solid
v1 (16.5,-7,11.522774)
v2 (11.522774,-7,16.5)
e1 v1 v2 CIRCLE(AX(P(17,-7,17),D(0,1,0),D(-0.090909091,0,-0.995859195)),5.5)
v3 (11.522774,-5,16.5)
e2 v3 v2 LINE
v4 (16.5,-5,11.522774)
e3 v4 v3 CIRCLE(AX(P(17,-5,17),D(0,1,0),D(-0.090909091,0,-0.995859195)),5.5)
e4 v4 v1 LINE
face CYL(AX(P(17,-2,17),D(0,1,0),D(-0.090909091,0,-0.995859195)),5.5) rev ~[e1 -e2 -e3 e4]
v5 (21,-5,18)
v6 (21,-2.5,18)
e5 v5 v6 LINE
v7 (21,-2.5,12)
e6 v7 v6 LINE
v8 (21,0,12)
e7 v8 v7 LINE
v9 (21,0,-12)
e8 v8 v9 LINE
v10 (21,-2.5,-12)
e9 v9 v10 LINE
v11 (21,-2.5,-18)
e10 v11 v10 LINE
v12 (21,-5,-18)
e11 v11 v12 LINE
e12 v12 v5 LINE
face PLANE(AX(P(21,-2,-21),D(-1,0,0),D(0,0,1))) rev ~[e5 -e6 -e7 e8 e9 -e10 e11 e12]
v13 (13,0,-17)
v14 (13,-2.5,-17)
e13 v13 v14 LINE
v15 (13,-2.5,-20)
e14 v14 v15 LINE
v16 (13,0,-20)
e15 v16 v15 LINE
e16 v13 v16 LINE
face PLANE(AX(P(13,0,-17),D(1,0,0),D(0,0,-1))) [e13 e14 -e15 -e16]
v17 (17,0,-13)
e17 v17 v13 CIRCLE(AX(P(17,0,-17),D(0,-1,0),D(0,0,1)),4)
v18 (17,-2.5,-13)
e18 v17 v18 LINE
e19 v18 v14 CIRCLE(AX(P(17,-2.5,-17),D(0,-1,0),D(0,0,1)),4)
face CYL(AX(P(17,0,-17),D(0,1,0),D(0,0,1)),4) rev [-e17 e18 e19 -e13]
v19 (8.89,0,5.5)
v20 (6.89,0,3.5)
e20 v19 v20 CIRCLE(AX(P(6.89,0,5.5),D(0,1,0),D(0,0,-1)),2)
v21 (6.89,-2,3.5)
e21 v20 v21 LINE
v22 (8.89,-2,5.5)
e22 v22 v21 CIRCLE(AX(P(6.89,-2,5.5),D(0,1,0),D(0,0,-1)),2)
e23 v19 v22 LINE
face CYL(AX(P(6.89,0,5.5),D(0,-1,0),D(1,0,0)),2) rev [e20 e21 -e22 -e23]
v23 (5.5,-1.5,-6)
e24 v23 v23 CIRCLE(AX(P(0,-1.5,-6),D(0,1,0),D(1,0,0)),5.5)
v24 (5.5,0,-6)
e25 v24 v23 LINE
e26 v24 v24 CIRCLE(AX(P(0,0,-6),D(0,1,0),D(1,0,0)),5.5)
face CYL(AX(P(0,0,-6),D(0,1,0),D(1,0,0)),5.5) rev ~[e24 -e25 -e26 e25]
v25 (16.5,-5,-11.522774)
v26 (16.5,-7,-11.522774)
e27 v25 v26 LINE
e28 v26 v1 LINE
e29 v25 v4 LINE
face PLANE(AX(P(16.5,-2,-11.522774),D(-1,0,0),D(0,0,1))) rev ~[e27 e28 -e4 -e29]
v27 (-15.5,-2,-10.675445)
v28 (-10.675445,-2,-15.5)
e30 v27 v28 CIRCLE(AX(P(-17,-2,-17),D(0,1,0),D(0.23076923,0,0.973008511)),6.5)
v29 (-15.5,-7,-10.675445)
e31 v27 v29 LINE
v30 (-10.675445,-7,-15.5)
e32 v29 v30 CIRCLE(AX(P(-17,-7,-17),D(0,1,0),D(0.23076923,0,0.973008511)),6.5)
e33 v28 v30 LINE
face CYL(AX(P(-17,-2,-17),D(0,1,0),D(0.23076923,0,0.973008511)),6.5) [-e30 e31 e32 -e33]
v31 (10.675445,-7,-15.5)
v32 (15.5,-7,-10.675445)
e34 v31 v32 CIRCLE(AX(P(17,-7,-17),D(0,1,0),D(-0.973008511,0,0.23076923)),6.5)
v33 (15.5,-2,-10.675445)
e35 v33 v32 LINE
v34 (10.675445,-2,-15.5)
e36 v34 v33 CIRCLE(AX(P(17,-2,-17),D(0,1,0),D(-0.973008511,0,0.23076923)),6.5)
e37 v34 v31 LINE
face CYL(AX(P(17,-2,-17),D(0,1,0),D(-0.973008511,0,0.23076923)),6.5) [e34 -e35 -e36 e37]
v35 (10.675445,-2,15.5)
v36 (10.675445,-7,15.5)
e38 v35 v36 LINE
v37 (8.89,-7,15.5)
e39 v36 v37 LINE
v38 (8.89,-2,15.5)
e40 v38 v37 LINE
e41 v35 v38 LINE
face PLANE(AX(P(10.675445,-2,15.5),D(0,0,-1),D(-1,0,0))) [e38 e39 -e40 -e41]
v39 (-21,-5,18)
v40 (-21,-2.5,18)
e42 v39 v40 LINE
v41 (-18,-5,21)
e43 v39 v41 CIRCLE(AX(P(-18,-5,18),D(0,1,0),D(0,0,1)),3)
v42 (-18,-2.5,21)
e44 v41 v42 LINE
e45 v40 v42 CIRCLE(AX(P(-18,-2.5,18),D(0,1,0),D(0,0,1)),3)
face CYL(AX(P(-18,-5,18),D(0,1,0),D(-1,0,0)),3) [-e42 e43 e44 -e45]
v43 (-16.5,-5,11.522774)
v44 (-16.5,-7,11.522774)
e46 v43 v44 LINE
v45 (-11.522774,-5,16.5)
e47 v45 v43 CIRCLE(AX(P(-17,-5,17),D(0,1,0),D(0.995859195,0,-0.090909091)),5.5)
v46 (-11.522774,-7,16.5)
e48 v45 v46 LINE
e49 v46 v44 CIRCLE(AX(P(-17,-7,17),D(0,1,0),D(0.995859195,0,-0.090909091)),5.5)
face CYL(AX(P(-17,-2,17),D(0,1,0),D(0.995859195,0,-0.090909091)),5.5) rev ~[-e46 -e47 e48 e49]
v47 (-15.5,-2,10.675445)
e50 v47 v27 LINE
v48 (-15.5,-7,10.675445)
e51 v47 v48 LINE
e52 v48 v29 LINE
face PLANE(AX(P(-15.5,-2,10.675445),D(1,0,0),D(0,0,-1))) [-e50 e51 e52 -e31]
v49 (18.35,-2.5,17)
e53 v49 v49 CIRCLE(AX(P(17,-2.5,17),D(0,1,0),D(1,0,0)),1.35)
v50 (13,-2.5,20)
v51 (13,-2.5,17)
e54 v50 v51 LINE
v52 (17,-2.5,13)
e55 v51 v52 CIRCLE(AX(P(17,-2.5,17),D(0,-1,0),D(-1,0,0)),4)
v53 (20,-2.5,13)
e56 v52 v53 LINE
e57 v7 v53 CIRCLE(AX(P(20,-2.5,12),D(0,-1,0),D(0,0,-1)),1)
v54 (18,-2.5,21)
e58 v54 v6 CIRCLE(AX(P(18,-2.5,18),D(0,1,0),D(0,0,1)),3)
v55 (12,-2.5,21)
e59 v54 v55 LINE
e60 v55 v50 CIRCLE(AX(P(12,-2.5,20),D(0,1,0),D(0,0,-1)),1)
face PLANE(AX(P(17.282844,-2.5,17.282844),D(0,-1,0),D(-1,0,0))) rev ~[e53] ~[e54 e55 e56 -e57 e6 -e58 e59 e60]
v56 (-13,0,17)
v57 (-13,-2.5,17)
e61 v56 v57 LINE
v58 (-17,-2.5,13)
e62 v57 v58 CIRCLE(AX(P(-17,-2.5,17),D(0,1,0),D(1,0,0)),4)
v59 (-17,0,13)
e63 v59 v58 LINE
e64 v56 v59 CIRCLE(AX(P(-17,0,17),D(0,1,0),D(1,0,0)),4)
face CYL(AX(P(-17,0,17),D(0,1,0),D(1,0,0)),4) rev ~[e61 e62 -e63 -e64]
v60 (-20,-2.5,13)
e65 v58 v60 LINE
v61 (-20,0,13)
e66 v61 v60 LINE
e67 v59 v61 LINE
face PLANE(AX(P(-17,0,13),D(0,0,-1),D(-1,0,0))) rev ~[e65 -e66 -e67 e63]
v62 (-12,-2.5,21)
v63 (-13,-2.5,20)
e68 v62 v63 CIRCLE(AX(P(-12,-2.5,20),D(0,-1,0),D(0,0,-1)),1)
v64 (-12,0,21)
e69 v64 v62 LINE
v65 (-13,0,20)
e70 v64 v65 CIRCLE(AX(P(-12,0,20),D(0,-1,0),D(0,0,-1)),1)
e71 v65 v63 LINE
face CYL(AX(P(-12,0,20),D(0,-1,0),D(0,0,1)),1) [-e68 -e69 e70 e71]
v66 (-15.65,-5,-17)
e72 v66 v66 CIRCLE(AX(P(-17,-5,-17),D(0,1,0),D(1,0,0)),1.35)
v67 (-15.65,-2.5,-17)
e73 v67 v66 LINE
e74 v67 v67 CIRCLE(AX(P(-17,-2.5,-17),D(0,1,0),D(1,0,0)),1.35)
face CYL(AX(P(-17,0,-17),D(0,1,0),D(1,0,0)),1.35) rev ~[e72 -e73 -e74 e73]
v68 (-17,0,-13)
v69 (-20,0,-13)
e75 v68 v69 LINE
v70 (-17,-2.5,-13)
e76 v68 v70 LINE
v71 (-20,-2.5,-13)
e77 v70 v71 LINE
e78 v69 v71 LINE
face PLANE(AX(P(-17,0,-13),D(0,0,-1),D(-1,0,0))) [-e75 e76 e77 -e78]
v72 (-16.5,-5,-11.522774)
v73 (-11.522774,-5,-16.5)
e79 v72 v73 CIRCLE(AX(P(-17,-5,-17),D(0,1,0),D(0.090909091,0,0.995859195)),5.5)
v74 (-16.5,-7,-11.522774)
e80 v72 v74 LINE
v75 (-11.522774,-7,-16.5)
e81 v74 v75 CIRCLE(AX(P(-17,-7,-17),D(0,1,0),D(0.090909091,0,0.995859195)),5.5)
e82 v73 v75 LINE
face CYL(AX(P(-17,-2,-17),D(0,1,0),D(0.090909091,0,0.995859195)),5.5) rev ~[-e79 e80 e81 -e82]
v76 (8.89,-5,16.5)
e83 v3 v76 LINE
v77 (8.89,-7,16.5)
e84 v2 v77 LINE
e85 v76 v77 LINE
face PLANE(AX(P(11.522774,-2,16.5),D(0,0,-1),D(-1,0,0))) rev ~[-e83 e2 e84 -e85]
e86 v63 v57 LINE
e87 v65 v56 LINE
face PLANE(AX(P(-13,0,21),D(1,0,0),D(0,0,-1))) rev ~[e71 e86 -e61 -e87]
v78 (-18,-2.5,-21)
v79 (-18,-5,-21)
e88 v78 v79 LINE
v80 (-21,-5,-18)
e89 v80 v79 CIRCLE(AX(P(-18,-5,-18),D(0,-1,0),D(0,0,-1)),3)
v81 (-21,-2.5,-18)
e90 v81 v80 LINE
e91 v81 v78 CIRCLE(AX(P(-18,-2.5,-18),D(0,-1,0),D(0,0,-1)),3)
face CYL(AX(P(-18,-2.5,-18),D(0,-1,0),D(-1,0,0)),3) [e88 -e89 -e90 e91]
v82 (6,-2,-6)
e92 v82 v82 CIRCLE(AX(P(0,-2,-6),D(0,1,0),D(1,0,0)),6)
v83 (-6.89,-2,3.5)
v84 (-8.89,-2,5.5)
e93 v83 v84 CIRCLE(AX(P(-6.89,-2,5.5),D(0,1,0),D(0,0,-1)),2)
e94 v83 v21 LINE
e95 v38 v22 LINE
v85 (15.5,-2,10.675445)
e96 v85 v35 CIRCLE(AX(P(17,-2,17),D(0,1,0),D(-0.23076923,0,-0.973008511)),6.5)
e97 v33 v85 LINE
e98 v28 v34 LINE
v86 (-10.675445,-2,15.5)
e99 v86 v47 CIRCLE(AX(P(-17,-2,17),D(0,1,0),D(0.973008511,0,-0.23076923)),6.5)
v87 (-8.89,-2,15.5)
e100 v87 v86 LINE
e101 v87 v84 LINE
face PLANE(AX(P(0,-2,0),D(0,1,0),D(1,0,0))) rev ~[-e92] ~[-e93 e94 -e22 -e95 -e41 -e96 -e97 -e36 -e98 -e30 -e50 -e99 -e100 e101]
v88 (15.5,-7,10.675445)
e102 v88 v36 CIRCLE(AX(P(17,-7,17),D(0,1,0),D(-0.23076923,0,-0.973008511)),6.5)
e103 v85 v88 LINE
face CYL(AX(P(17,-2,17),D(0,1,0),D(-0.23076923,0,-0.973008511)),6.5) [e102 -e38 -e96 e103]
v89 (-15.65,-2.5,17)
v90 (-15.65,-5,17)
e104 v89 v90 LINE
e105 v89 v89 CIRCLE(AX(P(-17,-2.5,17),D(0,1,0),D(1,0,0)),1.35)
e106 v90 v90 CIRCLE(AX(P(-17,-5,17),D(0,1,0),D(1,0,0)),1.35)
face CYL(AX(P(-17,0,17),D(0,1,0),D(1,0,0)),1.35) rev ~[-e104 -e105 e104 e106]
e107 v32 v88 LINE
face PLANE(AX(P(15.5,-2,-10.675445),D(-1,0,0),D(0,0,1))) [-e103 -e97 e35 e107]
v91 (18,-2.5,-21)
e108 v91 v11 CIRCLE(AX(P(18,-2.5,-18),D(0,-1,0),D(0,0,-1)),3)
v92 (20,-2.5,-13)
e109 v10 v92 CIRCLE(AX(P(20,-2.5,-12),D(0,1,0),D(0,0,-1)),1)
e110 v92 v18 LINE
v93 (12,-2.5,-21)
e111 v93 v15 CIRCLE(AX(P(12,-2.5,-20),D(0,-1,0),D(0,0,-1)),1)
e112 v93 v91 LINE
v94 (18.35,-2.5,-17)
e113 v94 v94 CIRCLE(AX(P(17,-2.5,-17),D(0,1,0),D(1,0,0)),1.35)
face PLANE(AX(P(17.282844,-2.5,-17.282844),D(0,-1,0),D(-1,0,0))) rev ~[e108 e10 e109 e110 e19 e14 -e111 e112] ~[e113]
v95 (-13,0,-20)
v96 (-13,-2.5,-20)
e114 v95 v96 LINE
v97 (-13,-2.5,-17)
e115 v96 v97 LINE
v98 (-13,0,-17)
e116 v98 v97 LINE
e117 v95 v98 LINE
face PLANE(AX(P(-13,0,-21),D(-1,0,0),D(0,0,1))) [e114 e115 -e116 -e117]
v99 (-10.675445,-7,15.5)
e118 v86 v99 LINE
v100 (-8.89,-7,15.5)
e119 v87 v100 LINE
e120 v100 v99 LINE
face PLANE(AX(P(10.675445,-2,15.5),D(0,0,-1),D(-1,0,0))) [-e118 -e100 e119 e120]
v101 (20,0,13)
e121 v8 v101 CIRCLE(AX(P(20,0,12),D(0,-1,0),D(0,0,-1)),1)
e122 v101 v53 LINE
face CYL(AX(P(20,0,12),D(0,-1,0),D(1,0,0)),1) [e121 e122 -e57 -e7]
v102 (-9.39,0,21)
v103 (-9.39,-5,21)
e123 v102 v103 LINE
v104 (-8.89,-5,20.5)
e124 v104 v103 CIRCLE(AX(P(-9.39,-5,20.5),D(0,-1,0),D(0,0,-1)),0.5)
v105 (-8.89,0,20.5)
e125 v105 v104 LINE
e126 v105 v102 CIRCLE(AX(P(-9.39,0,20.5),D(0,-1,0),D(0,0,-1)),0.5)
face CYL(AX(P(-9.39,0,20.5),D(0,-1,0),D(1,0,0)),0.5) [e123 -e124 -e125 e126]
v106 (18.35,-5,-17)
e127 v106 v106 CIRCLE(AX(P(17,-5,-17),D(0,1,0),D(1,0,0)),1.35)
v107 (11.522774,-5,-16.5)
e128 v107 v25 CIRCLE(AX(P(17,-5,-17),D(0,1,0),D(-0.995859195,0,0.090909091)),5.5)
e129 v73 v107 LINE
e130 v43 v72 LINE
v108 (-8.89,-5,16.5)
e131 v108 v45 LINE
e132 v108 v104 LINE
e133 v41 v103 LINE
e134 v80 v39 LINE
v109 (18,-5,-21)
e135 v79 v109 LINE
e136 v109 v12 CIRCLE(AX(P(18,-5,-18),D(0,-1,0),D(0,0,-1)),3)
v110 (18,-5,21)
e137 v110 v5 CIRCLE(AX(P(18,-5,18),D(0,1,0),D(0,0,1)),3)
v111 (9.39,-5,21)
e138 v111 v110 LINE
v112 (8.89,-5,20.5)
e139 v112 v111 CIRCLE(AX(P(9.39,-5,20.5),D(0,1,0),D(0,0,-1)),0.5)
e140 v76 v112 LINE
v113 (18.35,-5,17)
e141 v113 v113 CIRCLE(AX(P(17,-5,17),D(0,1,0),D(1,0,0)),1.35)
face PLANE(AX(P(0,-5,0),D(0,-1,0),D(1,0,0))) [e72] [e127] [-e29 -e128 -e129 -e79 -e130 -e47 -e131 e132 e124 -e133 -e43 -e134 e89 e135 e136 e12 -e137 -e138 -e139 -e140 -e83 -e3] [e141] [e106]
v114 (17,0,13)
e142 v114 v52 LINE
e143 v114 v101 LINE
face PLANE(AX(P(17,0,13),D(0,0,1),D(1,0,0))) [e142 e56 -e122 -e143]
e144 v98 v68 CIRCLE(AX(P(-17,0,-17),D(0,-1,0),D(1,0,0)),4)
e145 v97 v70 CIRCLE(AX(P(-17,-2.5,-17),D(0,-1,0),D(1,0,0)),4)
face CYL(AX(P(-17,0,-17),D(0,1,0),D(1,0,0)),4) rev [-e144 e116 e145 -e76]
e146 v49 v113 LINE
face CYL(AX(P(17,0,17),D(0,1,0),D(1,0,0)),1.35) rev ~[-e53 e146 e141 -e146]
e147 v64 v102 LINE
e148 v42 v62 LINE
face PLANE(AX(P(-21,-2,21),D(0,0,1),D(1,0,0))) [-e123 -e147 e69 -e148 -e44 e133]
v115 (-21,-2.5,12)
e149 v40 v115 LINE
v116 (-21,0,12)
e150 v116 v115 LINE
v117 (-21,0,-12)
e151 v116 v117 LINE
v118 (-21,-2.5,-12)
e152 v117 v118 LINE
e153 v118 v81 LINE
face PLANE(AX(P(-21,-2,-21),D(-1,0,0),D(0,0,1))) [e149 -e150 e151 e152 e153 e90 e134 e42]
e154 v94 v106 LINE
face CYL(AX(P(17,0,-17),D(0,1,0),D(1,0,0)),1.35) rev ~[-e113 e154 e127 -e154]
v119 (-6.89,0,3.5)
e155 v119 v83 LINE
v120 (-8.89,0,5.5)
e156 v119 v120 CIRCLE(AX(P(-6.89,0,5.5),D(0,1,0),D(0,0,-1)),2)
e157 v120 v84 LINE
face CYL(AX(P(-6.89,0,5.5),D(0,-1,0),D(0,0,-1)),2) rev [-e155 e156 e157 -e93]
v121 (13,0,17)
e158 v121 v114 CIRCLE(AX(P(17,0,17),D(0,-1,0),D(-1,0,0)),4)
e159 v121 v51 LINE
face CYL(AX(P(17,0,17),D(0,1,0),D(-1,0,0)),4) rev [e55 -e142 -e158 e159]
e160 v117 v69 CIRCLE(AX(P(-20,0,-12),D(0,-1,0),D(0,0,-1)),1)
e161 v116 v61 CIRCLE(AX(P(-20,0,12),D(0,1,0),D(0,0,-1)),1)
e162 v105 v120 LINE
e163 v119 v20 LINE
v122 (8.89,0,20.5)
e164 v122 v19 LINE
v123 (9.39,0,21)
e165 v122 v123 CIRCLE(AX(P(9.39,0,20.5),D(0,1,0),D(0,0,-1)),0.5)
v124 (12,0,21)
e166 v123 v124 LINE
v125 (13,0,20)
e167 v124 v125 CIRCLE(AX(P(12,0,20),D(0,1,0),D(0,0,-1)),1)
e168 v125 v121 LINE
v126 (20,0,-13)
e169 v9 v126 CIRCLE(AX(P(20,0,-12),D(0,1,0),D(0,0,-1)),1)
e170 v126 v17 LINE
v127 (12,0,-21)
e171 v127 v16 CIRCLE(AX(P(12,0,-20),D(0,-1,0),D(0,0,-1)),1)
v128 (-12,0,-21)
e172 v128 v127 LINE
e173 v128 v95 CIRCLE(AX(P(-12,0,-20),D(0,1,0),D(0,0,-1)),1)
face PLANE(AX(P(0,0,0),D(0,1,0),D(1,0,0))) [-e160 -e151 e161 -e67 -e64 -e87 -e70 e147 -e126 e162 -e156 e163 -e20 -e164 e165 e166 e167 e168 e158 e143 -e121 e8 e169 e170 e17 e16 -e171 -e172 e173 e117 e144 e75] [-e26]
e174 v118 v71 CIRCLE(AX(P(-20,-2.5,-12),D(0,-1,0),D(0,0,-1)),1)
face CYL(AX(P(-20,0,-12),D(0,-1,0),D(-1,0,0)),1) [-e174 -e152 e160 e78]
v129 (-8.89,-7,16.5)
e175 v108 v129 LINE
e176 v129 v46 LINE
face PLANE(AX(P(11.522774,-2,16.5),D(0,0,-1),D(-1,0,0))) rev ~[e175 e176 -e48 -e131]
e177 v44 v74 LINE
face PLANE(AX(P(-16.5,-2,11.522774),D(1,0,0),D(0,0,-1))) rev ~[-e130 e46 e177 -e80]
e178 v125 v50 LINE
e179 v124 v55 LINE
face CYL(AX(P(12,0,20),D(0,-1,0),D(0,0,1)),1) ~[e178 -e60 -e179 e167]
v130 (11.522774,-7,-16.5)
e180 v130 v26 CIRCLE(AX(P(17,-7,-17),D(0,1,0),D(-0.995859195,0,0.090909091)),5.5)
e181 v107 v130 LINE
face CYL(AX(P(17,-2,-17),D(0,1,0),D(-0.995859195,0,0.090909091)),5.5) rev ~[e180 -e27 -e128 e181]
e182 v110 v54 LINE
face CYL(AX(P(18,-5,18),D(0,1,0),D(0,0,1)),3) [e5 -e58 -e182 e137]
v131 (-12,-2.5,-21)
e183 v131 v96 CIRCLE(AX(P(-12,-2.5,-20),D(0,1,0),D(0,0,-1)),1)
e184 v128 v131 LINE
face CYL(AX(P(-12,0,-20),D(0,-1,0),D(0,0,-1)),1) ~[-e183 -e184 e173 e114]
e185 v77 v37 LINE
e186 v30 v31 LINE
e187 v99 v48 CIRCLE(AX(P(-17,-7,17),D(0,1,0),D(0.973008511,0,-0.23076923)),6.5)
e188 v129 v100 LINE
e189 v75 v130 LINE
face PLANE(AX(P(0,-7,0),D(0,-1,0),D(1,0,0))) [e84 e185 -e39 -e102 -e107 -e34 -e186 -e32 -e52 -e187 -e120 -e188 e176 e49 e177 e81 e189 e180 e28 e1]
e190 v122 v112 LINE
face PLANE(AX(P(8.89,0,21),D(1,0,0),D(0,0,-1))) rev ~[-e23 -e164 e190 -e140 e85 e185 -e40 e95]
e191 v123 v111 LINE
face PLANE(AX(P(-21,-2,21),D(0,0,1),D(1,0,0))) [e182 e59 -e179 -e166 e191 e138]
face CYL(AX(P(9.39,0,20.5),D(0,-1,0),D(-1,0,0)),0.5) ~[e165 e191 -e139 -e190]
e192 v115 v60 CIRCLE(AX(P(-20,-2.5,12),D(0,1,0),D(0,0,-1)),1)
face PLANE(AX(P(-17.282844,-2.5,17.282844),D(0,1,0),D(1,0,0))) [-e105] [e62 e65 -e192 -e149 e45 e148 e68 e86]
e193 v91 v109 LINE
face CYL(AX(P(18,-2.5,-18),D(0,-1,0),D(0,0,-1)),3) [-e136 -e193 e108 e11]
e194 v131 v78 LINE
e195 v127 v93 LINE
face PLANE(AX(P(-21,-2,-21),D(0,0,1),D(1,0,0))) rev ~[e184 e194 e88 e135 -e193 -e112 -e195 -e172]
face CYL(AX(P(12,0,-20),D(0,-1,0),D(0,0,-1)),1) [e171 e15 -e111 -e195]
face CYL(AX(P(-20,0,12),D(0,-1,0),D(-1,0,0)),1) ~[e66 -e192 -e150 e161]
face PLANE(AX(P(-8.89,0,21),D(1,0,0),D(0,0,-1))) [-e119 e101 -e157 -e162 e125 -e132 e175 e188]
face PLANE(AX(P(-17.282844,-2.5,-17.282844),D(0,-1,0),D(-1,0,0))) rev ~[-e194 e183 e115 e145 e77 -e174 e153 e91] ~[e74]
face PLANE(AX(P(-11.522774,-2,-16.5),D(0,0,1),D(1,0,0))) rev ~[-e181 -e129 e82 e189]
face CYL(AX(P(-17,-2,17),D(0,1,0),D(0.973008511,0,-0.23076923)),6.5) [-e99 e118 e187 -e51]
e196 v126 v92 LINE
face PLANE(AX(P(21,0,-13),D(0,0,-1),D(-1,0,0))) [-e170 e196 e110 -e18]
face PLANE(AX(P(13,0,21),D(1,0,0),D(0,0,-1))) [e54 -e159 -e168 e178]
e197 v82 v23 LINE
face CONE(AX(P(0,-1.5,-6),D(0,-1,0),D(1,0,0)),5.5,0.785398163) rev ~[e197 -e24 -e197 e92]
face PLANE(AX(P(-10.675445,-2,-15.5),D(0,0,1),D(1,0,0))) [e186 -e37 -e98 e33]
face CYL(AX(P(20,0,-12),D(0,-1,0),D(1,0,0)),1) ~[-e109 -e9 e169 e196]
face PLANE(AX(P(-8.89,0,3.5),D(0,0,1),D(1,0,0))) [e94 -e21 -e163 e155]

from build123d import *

# Parameters (mm, degrees)
SKETCH2_W           = 42
SKETCH2_H           = 42
SKETCH2_R           = 5.5
BOSS_EXTRUDE1_DEPTH = 2
SKETCH4_W           = 42
SKETCH4_H           = 42
BOSS_EXTRUDE2_DEPTH = 3
BOSS_EXTRUDE3_DEPTH = 3
BOSS_EXTRUDE5_DEPTH = 5
CUT_EXTRUDE1_DEPTH  = 2.5
SKETCH9_R           = 1.35
CUT_EXTRUDE2_DEPTH  = 8
FILLET1_R           = 3
FILLET2_R           = 1
CHAMFER1_SIZE       = 0.5
SKETCH11_W          = 17.78
SKETCH11_H          = 17.5
CUT_EXTRUDE3_DEPTH  = 7
FILLET3_R           = 2
FILLET4_R           = 0.5


with BuildPart() as part:
    # Sketch2 → Boss-Extrude1 (new body)
    with BuildSketch(Plane(origin=(0, 0, 0), x_dir=(1, 0, 0), z_dir=(0, 1, 0))):
        Rectangle(SKETCH2_W, SKETCH2_H)
        with Locations((0, 6)):
            Circle(SKETCH2_R, mode=Mode.SUBTRACT)
    extrude(amount=-BOSS_EXTRUDE1_DEPTH)

    # Sketch4 → Boss-Extrude2 (add)
    with BuildSketch(Plane.XZ.offset(2)):
        Rectangle(SKETCH4_W, SKETCH4_H)
        with BuildLine():
            Line((-17, 11.522774425), (-17, -11.522774425))
            ThreePointArc((-17, -11.522774425), (-16.869274473, -11.859874356), (-16.545454545, -12.020704023))
            ThreePointArc((-16.545454545, -12.020704023), (-13.464466094, -13.464466094), (-12.020704023, -16.545454545))
            ThreePointArc((-12.020704023, -16.545454545), (-11.859874356, -16.869274473), (-11.522774425, -17))
            Line((-11.522774425, -17), (11.522774425, -17))
            ThreePointArc((11.522774425, -17), (11.859874356, -16.869274473), (12.020704023, -16.545454545))
            ThreePointArc((12.020704023, -16.545454545), (13.464466094, -13.464466094), (16.545454545, -12.020704023))
            ThreePointArc((16.545454545, -12.020704023), (16.869274473, -11.859874356), (17, -11.522774425))
            Line((17, -11.522774425), (17, 11.522774425))
            ThreePointArc((17, 11.522774425), (16.869274473, 11.859874356), (16.545454545, 12.020704023))
            ThreePointArc((16.545454545, 12.020704023), (13.464466094, 13.464466094), (12.020704023, 16.545454545))
            ThreePointArc((12.020704023, 16.545454545), (11.859874356, 16.869274473), (11.522774425, 17))
            Line((11.522774425, 17), (-11.522774425, 17))
            ThreePointArc((-11.522774425, 17), (-11.859874356, 16.869274473), (-12.020704023, 16.545454545))
            ThreePointArc((-12.020704023, 16.545454545), (-13.464466094, 13.464466094), (-16.545454545, 12.020704023))
            ThreePointArc((-16.545454545, 12.020704023), (-16.869274473, 11.859874356), (-17, 11.522774425))
        make_face(mode=Mode.SUBTRACT)
    extrude(amount=BOSS_EXTRUDE2_DEPTH)

    # Sketch6 → Boss-Extrude3 (add)
    with BuildSketch(Plane.XZ.offset(2)):
        with BuildLine():
            Line((-17, 11.522774425), (-17, -11.522774425))
            ThreePointArc((-17, -11.522774425), (-16.869274473, -11.859874356), (-16.545454545, -12.020704023))
            ThreePointArc((-16.545454545, -12.020704023), (-13.464466094, -13.464466094), (-12.020704023, -16.545454545))
            ThreePointArc((-12.020704023, -16.545454545), (-11.859874356, -16.869274473), (-11.522774425, -17))
            Line((-11.522774425, -17), (11.522774425, -17))
            ThreePointArc((11.522774425, -17), (11.859874356, -16.869274473), (12.020704023, -16.545454545))
            ThreePointArc((12.020704023, -16.545454545), (13.464466094, -13.464466094), (16.545454545, -12.020704023))
            ThreePointArc((16.545454545, -12.020704023), (16.869274473, -11.859874356), (17, -11.522774425))
            Line((17, -11.522774425), (17, 11.522774425))
            ThreePointArc((17, 11.522774425), (16.869274473, 11.859874356), (16.545454545, 12.020704023))
            ThreePointArc((16.545454545, 12.020704023), (13.464466094, 13.464466094), (12.020704023, 16.545454545))
            ThreePointArc((12.020704023, 16.545454545), (11.859874356, 16.869274473), (11.522774425, 17))
            Line((11.522774425, 17), (-11.522774425, 17))
            ThreePointArc((-11.522774425, 17), (-11.859874356, 16.869274473), (-12.020704023, 16.545454545))
            ThreePointArc((-12.020704023, 16.545454545), (-13.464466094, 13.464466094), (-16.545454545, 12.020704023))
            ThreePointArc((-16.545454545, 12.020704023), (-16.869274473, 11.859874356), (-17, 11.522774425))
        make_face()
        with BuildLine():
            Line((-16.5, 11.522774425), (-16.5, -11.522774425))
            ThreePointArc((-16.5, -11.522774425), (-13.110912703, -13.110912703), (-11.522774425, -16.5))
            Line((-11.522774425, -16.5), (11.522774425, -16.5))
            ThreePointArc((11.522774425, -16.5), (13.110912703, -13.110912703), (16.5, -11.522774425))
            Line((16.5, -11.522774425), (16.5, 11.522774425))
            ThreePointArc((16.5, 11.522774425), (13.110912703, 13.110912703), (11.522774425, 16.5))
            Line((11.522774425, 16.5), (-11.522774425, 16.5))
            ThreePointArc((-11.522774425, 16.5), (-13.110912703, 13.110912703), (-16.5, 11.522774425))
        make_face(mode=Mode.SUBTRACT)
    extrude(amount=BOSS_EXTRUDE3_DEPTH)

    # Sketch7 → Boss-Extrude5 (add)
    with BuildSketch(Plane.XZ.offset(2)):
        with BuildLine():
            Line((11.522774425, 16.5), (-11.522774425, 16.5))
            ThreePointArc((-11.522774425, 16.5), (-13.110912703, 13.110912703), (-16.5, 11.522774425))
            Line((-16.5, 11.522774425), (-16.5, -11.522774425))
            ThreePointArc((-16.5, -11.522774425), (-13.110912703, -13.110912703), (-11.522774425, -16.5))
            Line((-11.522774425, -16.5), (11.522774425, -16.5))
            ThreePointArc((11.522774425, -16.5), (13.110912703, -13.110912703), (16.5, -11.522774425))
            Line((16.5, -11.522774425), (16.5, 11.522774425))
            ThreePointArc((16.5, 11.522774425), (13.110912703, 13.110912703), (11.522774425, 16.5))
        make_face()
        with BuildLine():
            Line((10.67544468, 15.5), (-10.67544468, 15.5))
            ThreePointArc((-10.67544468, 15.5), (-12.403805922, 12.403805922), (-15.5, 10.67544468))
            Line((-15.5, 10.67544468), (-15.5, -10.67544468))
            ThreePointArc((-15.5, -10.67544468), (-12.403805922, -12.403805922), (-10.67544468, -15.5))
            Line((-10.67544468, -15.5), (10.67544468, -15.5))
            ThreePointArc((10.67544468, -15.5), (12.403805922, -12.403805922), (15.5, -10.67544468))
            Line((15.5, -10.67544468), (15.5, 10.67544468))
            ThreePointArc((15.5, 10.67544468), (12.403805922, 12.403805922), (10.67544468, 15.5))
        make_face(mode=Mode.SUBTRACT)
    extrude(amount=BOSS_EXTRUDE5_DEPTH)

    # Sketch8 → Cut-Extrude1 (cut)
    with BuildSketch(Plane(origin=(0, 0, 0), x_dir=(1, 0, 0), z_dir=(0, 1, 0))):
        with BuildLine():
            Line((-17, 13), (-21, 13))
            Line((-21, 13), (-21, 21))
            Line((-21, 21), (-13, 21))
            Line((-13, 21), (-13, 17))
            ThreePointArc((-13, 17), (-14.171572875, 14.171572875), (-17, 13))
        make_face()
        with BuildLine():
            Line((13, 17), (13, 21))
            Line((13, 21), (21, 21))
            Line((21, 21), (21, 13))
            Line((21, 13), (17, 13))
            ThreePointArc((17, 13), (14.171572875, 14.171572875), (13, 17))
        make_face()
        with BuildLine():
            Line((-21, -17), (-21, -21))
            Line((-21, -21), (-17, -21))
            Line((-17, -21), (-13, -21))
            Line((-13, -21), (-13, -17))
            ThreePointArc((-13, -17), (-14.171572875, -14.171572875), (-17, -13))
            Line((-17, -13), (-21, -13))
            Line((-21, -13), (-21, -17))
        make_face()
        with BuildLine():
            Line((17, -13), (21, -13))
            Line((21, -13), (21, -21))
            Line((21, -21), (17, -21))
            Line((17, -21), (13, -21))
            Line((13, -21), (13, -17))
            ThreePointArc((13, -17), (14.171572875, -14.171572875), (17, -13))
        make_face()
    extrude(amount=-CUT_EXTRUDE1_DEPTH, mode=Mode.SUBTRACT)

    # Sketch9 → Cut-Extrude2 (cut, through all)
    with BuildSketch(Plane(origin=(0, 0, 0), x_dir=(1, 0, 0), z_dir=(0, 1, 0))):
        with Locations((-17, 17)):
            Circle(SKETCH9_R)
        with Locations((17, 17)):
            Circle(SKETCH9_R)
        with Locations((-17, -17)):
            Circle(SKETCH9_R)
        with Locations((17, -17)):
            Circle(SKETCH9_R)
    extrude(amount=-CUT_EXTRUDE2_DEPTH, mode=Mode.SUBTRACT)

    # Fillet1
    fillet1_edges = [part.edges().sort_by_distance(p)[0] for p in [
        (21, -3.75, 21),
        (-21, -3.75, 21),
        (-21, -3.75, -21),
        (21, -3.75, -21),
    ]]
    fillet(fillet1_edges, radius=FILLET1_R)

    # Fillet2
    fillet2_edges = [part.edges().sort_by_distance(p)[0] for p in [
        (13, -1.25, -21),
        (21, -1.25, -13),
        (-21, -1.25, 13),
        (-13, -1.25, 21),
        (21, -1.25, 13),
        (13, -1.25, 21),
        (-21, -1.25, -13),
        (-13, -1.25, -21),
    ]]
    fillet(fillet2_edges, radius=FILLET2_R)

    # Chamfer1
    chamfer1_edges = [part.edges().sort_by_distance(p)[0] for p in [
        (-5.5, -2, -6),
    ]]
    chamfer(chamfer1_edges, length=CHAMFER1_SIZE)

    # Sketch11 → Cut-Extrude3 (cut)
    with BuildSketch(Plane(origin=(0, 0, 0), x_dir=(1, 0, 0), z_dir=(0, 1, 0))):
        with Locations((0, -12.25)):
            Rectangle(SKETCH11_W, SKETCH11_H)
    extrude(amount=-CUT_EXTRUDE3_DEPTH, mode=Mode.SUBTRACT)

    # Fillet3
    fillet3_edges = [part.edges().sort_by_distance(p)[0] for p in [
        (-8.89, -1, 3.5),
        (8.89, -1, 3.5),
    ]]
    fillet(fillet3_edges, radius=FILLET3_R)

    # Fillet4
    fillet4_edges = [part.edges().sort_by_distance(p)[0] for p in [
        (-8.89, -2.5, 21),
        (8.89, -2.5, 21),
    ]]
    fillet(fillet4_edges, radius=FILLET4_R)


solid = part.part
